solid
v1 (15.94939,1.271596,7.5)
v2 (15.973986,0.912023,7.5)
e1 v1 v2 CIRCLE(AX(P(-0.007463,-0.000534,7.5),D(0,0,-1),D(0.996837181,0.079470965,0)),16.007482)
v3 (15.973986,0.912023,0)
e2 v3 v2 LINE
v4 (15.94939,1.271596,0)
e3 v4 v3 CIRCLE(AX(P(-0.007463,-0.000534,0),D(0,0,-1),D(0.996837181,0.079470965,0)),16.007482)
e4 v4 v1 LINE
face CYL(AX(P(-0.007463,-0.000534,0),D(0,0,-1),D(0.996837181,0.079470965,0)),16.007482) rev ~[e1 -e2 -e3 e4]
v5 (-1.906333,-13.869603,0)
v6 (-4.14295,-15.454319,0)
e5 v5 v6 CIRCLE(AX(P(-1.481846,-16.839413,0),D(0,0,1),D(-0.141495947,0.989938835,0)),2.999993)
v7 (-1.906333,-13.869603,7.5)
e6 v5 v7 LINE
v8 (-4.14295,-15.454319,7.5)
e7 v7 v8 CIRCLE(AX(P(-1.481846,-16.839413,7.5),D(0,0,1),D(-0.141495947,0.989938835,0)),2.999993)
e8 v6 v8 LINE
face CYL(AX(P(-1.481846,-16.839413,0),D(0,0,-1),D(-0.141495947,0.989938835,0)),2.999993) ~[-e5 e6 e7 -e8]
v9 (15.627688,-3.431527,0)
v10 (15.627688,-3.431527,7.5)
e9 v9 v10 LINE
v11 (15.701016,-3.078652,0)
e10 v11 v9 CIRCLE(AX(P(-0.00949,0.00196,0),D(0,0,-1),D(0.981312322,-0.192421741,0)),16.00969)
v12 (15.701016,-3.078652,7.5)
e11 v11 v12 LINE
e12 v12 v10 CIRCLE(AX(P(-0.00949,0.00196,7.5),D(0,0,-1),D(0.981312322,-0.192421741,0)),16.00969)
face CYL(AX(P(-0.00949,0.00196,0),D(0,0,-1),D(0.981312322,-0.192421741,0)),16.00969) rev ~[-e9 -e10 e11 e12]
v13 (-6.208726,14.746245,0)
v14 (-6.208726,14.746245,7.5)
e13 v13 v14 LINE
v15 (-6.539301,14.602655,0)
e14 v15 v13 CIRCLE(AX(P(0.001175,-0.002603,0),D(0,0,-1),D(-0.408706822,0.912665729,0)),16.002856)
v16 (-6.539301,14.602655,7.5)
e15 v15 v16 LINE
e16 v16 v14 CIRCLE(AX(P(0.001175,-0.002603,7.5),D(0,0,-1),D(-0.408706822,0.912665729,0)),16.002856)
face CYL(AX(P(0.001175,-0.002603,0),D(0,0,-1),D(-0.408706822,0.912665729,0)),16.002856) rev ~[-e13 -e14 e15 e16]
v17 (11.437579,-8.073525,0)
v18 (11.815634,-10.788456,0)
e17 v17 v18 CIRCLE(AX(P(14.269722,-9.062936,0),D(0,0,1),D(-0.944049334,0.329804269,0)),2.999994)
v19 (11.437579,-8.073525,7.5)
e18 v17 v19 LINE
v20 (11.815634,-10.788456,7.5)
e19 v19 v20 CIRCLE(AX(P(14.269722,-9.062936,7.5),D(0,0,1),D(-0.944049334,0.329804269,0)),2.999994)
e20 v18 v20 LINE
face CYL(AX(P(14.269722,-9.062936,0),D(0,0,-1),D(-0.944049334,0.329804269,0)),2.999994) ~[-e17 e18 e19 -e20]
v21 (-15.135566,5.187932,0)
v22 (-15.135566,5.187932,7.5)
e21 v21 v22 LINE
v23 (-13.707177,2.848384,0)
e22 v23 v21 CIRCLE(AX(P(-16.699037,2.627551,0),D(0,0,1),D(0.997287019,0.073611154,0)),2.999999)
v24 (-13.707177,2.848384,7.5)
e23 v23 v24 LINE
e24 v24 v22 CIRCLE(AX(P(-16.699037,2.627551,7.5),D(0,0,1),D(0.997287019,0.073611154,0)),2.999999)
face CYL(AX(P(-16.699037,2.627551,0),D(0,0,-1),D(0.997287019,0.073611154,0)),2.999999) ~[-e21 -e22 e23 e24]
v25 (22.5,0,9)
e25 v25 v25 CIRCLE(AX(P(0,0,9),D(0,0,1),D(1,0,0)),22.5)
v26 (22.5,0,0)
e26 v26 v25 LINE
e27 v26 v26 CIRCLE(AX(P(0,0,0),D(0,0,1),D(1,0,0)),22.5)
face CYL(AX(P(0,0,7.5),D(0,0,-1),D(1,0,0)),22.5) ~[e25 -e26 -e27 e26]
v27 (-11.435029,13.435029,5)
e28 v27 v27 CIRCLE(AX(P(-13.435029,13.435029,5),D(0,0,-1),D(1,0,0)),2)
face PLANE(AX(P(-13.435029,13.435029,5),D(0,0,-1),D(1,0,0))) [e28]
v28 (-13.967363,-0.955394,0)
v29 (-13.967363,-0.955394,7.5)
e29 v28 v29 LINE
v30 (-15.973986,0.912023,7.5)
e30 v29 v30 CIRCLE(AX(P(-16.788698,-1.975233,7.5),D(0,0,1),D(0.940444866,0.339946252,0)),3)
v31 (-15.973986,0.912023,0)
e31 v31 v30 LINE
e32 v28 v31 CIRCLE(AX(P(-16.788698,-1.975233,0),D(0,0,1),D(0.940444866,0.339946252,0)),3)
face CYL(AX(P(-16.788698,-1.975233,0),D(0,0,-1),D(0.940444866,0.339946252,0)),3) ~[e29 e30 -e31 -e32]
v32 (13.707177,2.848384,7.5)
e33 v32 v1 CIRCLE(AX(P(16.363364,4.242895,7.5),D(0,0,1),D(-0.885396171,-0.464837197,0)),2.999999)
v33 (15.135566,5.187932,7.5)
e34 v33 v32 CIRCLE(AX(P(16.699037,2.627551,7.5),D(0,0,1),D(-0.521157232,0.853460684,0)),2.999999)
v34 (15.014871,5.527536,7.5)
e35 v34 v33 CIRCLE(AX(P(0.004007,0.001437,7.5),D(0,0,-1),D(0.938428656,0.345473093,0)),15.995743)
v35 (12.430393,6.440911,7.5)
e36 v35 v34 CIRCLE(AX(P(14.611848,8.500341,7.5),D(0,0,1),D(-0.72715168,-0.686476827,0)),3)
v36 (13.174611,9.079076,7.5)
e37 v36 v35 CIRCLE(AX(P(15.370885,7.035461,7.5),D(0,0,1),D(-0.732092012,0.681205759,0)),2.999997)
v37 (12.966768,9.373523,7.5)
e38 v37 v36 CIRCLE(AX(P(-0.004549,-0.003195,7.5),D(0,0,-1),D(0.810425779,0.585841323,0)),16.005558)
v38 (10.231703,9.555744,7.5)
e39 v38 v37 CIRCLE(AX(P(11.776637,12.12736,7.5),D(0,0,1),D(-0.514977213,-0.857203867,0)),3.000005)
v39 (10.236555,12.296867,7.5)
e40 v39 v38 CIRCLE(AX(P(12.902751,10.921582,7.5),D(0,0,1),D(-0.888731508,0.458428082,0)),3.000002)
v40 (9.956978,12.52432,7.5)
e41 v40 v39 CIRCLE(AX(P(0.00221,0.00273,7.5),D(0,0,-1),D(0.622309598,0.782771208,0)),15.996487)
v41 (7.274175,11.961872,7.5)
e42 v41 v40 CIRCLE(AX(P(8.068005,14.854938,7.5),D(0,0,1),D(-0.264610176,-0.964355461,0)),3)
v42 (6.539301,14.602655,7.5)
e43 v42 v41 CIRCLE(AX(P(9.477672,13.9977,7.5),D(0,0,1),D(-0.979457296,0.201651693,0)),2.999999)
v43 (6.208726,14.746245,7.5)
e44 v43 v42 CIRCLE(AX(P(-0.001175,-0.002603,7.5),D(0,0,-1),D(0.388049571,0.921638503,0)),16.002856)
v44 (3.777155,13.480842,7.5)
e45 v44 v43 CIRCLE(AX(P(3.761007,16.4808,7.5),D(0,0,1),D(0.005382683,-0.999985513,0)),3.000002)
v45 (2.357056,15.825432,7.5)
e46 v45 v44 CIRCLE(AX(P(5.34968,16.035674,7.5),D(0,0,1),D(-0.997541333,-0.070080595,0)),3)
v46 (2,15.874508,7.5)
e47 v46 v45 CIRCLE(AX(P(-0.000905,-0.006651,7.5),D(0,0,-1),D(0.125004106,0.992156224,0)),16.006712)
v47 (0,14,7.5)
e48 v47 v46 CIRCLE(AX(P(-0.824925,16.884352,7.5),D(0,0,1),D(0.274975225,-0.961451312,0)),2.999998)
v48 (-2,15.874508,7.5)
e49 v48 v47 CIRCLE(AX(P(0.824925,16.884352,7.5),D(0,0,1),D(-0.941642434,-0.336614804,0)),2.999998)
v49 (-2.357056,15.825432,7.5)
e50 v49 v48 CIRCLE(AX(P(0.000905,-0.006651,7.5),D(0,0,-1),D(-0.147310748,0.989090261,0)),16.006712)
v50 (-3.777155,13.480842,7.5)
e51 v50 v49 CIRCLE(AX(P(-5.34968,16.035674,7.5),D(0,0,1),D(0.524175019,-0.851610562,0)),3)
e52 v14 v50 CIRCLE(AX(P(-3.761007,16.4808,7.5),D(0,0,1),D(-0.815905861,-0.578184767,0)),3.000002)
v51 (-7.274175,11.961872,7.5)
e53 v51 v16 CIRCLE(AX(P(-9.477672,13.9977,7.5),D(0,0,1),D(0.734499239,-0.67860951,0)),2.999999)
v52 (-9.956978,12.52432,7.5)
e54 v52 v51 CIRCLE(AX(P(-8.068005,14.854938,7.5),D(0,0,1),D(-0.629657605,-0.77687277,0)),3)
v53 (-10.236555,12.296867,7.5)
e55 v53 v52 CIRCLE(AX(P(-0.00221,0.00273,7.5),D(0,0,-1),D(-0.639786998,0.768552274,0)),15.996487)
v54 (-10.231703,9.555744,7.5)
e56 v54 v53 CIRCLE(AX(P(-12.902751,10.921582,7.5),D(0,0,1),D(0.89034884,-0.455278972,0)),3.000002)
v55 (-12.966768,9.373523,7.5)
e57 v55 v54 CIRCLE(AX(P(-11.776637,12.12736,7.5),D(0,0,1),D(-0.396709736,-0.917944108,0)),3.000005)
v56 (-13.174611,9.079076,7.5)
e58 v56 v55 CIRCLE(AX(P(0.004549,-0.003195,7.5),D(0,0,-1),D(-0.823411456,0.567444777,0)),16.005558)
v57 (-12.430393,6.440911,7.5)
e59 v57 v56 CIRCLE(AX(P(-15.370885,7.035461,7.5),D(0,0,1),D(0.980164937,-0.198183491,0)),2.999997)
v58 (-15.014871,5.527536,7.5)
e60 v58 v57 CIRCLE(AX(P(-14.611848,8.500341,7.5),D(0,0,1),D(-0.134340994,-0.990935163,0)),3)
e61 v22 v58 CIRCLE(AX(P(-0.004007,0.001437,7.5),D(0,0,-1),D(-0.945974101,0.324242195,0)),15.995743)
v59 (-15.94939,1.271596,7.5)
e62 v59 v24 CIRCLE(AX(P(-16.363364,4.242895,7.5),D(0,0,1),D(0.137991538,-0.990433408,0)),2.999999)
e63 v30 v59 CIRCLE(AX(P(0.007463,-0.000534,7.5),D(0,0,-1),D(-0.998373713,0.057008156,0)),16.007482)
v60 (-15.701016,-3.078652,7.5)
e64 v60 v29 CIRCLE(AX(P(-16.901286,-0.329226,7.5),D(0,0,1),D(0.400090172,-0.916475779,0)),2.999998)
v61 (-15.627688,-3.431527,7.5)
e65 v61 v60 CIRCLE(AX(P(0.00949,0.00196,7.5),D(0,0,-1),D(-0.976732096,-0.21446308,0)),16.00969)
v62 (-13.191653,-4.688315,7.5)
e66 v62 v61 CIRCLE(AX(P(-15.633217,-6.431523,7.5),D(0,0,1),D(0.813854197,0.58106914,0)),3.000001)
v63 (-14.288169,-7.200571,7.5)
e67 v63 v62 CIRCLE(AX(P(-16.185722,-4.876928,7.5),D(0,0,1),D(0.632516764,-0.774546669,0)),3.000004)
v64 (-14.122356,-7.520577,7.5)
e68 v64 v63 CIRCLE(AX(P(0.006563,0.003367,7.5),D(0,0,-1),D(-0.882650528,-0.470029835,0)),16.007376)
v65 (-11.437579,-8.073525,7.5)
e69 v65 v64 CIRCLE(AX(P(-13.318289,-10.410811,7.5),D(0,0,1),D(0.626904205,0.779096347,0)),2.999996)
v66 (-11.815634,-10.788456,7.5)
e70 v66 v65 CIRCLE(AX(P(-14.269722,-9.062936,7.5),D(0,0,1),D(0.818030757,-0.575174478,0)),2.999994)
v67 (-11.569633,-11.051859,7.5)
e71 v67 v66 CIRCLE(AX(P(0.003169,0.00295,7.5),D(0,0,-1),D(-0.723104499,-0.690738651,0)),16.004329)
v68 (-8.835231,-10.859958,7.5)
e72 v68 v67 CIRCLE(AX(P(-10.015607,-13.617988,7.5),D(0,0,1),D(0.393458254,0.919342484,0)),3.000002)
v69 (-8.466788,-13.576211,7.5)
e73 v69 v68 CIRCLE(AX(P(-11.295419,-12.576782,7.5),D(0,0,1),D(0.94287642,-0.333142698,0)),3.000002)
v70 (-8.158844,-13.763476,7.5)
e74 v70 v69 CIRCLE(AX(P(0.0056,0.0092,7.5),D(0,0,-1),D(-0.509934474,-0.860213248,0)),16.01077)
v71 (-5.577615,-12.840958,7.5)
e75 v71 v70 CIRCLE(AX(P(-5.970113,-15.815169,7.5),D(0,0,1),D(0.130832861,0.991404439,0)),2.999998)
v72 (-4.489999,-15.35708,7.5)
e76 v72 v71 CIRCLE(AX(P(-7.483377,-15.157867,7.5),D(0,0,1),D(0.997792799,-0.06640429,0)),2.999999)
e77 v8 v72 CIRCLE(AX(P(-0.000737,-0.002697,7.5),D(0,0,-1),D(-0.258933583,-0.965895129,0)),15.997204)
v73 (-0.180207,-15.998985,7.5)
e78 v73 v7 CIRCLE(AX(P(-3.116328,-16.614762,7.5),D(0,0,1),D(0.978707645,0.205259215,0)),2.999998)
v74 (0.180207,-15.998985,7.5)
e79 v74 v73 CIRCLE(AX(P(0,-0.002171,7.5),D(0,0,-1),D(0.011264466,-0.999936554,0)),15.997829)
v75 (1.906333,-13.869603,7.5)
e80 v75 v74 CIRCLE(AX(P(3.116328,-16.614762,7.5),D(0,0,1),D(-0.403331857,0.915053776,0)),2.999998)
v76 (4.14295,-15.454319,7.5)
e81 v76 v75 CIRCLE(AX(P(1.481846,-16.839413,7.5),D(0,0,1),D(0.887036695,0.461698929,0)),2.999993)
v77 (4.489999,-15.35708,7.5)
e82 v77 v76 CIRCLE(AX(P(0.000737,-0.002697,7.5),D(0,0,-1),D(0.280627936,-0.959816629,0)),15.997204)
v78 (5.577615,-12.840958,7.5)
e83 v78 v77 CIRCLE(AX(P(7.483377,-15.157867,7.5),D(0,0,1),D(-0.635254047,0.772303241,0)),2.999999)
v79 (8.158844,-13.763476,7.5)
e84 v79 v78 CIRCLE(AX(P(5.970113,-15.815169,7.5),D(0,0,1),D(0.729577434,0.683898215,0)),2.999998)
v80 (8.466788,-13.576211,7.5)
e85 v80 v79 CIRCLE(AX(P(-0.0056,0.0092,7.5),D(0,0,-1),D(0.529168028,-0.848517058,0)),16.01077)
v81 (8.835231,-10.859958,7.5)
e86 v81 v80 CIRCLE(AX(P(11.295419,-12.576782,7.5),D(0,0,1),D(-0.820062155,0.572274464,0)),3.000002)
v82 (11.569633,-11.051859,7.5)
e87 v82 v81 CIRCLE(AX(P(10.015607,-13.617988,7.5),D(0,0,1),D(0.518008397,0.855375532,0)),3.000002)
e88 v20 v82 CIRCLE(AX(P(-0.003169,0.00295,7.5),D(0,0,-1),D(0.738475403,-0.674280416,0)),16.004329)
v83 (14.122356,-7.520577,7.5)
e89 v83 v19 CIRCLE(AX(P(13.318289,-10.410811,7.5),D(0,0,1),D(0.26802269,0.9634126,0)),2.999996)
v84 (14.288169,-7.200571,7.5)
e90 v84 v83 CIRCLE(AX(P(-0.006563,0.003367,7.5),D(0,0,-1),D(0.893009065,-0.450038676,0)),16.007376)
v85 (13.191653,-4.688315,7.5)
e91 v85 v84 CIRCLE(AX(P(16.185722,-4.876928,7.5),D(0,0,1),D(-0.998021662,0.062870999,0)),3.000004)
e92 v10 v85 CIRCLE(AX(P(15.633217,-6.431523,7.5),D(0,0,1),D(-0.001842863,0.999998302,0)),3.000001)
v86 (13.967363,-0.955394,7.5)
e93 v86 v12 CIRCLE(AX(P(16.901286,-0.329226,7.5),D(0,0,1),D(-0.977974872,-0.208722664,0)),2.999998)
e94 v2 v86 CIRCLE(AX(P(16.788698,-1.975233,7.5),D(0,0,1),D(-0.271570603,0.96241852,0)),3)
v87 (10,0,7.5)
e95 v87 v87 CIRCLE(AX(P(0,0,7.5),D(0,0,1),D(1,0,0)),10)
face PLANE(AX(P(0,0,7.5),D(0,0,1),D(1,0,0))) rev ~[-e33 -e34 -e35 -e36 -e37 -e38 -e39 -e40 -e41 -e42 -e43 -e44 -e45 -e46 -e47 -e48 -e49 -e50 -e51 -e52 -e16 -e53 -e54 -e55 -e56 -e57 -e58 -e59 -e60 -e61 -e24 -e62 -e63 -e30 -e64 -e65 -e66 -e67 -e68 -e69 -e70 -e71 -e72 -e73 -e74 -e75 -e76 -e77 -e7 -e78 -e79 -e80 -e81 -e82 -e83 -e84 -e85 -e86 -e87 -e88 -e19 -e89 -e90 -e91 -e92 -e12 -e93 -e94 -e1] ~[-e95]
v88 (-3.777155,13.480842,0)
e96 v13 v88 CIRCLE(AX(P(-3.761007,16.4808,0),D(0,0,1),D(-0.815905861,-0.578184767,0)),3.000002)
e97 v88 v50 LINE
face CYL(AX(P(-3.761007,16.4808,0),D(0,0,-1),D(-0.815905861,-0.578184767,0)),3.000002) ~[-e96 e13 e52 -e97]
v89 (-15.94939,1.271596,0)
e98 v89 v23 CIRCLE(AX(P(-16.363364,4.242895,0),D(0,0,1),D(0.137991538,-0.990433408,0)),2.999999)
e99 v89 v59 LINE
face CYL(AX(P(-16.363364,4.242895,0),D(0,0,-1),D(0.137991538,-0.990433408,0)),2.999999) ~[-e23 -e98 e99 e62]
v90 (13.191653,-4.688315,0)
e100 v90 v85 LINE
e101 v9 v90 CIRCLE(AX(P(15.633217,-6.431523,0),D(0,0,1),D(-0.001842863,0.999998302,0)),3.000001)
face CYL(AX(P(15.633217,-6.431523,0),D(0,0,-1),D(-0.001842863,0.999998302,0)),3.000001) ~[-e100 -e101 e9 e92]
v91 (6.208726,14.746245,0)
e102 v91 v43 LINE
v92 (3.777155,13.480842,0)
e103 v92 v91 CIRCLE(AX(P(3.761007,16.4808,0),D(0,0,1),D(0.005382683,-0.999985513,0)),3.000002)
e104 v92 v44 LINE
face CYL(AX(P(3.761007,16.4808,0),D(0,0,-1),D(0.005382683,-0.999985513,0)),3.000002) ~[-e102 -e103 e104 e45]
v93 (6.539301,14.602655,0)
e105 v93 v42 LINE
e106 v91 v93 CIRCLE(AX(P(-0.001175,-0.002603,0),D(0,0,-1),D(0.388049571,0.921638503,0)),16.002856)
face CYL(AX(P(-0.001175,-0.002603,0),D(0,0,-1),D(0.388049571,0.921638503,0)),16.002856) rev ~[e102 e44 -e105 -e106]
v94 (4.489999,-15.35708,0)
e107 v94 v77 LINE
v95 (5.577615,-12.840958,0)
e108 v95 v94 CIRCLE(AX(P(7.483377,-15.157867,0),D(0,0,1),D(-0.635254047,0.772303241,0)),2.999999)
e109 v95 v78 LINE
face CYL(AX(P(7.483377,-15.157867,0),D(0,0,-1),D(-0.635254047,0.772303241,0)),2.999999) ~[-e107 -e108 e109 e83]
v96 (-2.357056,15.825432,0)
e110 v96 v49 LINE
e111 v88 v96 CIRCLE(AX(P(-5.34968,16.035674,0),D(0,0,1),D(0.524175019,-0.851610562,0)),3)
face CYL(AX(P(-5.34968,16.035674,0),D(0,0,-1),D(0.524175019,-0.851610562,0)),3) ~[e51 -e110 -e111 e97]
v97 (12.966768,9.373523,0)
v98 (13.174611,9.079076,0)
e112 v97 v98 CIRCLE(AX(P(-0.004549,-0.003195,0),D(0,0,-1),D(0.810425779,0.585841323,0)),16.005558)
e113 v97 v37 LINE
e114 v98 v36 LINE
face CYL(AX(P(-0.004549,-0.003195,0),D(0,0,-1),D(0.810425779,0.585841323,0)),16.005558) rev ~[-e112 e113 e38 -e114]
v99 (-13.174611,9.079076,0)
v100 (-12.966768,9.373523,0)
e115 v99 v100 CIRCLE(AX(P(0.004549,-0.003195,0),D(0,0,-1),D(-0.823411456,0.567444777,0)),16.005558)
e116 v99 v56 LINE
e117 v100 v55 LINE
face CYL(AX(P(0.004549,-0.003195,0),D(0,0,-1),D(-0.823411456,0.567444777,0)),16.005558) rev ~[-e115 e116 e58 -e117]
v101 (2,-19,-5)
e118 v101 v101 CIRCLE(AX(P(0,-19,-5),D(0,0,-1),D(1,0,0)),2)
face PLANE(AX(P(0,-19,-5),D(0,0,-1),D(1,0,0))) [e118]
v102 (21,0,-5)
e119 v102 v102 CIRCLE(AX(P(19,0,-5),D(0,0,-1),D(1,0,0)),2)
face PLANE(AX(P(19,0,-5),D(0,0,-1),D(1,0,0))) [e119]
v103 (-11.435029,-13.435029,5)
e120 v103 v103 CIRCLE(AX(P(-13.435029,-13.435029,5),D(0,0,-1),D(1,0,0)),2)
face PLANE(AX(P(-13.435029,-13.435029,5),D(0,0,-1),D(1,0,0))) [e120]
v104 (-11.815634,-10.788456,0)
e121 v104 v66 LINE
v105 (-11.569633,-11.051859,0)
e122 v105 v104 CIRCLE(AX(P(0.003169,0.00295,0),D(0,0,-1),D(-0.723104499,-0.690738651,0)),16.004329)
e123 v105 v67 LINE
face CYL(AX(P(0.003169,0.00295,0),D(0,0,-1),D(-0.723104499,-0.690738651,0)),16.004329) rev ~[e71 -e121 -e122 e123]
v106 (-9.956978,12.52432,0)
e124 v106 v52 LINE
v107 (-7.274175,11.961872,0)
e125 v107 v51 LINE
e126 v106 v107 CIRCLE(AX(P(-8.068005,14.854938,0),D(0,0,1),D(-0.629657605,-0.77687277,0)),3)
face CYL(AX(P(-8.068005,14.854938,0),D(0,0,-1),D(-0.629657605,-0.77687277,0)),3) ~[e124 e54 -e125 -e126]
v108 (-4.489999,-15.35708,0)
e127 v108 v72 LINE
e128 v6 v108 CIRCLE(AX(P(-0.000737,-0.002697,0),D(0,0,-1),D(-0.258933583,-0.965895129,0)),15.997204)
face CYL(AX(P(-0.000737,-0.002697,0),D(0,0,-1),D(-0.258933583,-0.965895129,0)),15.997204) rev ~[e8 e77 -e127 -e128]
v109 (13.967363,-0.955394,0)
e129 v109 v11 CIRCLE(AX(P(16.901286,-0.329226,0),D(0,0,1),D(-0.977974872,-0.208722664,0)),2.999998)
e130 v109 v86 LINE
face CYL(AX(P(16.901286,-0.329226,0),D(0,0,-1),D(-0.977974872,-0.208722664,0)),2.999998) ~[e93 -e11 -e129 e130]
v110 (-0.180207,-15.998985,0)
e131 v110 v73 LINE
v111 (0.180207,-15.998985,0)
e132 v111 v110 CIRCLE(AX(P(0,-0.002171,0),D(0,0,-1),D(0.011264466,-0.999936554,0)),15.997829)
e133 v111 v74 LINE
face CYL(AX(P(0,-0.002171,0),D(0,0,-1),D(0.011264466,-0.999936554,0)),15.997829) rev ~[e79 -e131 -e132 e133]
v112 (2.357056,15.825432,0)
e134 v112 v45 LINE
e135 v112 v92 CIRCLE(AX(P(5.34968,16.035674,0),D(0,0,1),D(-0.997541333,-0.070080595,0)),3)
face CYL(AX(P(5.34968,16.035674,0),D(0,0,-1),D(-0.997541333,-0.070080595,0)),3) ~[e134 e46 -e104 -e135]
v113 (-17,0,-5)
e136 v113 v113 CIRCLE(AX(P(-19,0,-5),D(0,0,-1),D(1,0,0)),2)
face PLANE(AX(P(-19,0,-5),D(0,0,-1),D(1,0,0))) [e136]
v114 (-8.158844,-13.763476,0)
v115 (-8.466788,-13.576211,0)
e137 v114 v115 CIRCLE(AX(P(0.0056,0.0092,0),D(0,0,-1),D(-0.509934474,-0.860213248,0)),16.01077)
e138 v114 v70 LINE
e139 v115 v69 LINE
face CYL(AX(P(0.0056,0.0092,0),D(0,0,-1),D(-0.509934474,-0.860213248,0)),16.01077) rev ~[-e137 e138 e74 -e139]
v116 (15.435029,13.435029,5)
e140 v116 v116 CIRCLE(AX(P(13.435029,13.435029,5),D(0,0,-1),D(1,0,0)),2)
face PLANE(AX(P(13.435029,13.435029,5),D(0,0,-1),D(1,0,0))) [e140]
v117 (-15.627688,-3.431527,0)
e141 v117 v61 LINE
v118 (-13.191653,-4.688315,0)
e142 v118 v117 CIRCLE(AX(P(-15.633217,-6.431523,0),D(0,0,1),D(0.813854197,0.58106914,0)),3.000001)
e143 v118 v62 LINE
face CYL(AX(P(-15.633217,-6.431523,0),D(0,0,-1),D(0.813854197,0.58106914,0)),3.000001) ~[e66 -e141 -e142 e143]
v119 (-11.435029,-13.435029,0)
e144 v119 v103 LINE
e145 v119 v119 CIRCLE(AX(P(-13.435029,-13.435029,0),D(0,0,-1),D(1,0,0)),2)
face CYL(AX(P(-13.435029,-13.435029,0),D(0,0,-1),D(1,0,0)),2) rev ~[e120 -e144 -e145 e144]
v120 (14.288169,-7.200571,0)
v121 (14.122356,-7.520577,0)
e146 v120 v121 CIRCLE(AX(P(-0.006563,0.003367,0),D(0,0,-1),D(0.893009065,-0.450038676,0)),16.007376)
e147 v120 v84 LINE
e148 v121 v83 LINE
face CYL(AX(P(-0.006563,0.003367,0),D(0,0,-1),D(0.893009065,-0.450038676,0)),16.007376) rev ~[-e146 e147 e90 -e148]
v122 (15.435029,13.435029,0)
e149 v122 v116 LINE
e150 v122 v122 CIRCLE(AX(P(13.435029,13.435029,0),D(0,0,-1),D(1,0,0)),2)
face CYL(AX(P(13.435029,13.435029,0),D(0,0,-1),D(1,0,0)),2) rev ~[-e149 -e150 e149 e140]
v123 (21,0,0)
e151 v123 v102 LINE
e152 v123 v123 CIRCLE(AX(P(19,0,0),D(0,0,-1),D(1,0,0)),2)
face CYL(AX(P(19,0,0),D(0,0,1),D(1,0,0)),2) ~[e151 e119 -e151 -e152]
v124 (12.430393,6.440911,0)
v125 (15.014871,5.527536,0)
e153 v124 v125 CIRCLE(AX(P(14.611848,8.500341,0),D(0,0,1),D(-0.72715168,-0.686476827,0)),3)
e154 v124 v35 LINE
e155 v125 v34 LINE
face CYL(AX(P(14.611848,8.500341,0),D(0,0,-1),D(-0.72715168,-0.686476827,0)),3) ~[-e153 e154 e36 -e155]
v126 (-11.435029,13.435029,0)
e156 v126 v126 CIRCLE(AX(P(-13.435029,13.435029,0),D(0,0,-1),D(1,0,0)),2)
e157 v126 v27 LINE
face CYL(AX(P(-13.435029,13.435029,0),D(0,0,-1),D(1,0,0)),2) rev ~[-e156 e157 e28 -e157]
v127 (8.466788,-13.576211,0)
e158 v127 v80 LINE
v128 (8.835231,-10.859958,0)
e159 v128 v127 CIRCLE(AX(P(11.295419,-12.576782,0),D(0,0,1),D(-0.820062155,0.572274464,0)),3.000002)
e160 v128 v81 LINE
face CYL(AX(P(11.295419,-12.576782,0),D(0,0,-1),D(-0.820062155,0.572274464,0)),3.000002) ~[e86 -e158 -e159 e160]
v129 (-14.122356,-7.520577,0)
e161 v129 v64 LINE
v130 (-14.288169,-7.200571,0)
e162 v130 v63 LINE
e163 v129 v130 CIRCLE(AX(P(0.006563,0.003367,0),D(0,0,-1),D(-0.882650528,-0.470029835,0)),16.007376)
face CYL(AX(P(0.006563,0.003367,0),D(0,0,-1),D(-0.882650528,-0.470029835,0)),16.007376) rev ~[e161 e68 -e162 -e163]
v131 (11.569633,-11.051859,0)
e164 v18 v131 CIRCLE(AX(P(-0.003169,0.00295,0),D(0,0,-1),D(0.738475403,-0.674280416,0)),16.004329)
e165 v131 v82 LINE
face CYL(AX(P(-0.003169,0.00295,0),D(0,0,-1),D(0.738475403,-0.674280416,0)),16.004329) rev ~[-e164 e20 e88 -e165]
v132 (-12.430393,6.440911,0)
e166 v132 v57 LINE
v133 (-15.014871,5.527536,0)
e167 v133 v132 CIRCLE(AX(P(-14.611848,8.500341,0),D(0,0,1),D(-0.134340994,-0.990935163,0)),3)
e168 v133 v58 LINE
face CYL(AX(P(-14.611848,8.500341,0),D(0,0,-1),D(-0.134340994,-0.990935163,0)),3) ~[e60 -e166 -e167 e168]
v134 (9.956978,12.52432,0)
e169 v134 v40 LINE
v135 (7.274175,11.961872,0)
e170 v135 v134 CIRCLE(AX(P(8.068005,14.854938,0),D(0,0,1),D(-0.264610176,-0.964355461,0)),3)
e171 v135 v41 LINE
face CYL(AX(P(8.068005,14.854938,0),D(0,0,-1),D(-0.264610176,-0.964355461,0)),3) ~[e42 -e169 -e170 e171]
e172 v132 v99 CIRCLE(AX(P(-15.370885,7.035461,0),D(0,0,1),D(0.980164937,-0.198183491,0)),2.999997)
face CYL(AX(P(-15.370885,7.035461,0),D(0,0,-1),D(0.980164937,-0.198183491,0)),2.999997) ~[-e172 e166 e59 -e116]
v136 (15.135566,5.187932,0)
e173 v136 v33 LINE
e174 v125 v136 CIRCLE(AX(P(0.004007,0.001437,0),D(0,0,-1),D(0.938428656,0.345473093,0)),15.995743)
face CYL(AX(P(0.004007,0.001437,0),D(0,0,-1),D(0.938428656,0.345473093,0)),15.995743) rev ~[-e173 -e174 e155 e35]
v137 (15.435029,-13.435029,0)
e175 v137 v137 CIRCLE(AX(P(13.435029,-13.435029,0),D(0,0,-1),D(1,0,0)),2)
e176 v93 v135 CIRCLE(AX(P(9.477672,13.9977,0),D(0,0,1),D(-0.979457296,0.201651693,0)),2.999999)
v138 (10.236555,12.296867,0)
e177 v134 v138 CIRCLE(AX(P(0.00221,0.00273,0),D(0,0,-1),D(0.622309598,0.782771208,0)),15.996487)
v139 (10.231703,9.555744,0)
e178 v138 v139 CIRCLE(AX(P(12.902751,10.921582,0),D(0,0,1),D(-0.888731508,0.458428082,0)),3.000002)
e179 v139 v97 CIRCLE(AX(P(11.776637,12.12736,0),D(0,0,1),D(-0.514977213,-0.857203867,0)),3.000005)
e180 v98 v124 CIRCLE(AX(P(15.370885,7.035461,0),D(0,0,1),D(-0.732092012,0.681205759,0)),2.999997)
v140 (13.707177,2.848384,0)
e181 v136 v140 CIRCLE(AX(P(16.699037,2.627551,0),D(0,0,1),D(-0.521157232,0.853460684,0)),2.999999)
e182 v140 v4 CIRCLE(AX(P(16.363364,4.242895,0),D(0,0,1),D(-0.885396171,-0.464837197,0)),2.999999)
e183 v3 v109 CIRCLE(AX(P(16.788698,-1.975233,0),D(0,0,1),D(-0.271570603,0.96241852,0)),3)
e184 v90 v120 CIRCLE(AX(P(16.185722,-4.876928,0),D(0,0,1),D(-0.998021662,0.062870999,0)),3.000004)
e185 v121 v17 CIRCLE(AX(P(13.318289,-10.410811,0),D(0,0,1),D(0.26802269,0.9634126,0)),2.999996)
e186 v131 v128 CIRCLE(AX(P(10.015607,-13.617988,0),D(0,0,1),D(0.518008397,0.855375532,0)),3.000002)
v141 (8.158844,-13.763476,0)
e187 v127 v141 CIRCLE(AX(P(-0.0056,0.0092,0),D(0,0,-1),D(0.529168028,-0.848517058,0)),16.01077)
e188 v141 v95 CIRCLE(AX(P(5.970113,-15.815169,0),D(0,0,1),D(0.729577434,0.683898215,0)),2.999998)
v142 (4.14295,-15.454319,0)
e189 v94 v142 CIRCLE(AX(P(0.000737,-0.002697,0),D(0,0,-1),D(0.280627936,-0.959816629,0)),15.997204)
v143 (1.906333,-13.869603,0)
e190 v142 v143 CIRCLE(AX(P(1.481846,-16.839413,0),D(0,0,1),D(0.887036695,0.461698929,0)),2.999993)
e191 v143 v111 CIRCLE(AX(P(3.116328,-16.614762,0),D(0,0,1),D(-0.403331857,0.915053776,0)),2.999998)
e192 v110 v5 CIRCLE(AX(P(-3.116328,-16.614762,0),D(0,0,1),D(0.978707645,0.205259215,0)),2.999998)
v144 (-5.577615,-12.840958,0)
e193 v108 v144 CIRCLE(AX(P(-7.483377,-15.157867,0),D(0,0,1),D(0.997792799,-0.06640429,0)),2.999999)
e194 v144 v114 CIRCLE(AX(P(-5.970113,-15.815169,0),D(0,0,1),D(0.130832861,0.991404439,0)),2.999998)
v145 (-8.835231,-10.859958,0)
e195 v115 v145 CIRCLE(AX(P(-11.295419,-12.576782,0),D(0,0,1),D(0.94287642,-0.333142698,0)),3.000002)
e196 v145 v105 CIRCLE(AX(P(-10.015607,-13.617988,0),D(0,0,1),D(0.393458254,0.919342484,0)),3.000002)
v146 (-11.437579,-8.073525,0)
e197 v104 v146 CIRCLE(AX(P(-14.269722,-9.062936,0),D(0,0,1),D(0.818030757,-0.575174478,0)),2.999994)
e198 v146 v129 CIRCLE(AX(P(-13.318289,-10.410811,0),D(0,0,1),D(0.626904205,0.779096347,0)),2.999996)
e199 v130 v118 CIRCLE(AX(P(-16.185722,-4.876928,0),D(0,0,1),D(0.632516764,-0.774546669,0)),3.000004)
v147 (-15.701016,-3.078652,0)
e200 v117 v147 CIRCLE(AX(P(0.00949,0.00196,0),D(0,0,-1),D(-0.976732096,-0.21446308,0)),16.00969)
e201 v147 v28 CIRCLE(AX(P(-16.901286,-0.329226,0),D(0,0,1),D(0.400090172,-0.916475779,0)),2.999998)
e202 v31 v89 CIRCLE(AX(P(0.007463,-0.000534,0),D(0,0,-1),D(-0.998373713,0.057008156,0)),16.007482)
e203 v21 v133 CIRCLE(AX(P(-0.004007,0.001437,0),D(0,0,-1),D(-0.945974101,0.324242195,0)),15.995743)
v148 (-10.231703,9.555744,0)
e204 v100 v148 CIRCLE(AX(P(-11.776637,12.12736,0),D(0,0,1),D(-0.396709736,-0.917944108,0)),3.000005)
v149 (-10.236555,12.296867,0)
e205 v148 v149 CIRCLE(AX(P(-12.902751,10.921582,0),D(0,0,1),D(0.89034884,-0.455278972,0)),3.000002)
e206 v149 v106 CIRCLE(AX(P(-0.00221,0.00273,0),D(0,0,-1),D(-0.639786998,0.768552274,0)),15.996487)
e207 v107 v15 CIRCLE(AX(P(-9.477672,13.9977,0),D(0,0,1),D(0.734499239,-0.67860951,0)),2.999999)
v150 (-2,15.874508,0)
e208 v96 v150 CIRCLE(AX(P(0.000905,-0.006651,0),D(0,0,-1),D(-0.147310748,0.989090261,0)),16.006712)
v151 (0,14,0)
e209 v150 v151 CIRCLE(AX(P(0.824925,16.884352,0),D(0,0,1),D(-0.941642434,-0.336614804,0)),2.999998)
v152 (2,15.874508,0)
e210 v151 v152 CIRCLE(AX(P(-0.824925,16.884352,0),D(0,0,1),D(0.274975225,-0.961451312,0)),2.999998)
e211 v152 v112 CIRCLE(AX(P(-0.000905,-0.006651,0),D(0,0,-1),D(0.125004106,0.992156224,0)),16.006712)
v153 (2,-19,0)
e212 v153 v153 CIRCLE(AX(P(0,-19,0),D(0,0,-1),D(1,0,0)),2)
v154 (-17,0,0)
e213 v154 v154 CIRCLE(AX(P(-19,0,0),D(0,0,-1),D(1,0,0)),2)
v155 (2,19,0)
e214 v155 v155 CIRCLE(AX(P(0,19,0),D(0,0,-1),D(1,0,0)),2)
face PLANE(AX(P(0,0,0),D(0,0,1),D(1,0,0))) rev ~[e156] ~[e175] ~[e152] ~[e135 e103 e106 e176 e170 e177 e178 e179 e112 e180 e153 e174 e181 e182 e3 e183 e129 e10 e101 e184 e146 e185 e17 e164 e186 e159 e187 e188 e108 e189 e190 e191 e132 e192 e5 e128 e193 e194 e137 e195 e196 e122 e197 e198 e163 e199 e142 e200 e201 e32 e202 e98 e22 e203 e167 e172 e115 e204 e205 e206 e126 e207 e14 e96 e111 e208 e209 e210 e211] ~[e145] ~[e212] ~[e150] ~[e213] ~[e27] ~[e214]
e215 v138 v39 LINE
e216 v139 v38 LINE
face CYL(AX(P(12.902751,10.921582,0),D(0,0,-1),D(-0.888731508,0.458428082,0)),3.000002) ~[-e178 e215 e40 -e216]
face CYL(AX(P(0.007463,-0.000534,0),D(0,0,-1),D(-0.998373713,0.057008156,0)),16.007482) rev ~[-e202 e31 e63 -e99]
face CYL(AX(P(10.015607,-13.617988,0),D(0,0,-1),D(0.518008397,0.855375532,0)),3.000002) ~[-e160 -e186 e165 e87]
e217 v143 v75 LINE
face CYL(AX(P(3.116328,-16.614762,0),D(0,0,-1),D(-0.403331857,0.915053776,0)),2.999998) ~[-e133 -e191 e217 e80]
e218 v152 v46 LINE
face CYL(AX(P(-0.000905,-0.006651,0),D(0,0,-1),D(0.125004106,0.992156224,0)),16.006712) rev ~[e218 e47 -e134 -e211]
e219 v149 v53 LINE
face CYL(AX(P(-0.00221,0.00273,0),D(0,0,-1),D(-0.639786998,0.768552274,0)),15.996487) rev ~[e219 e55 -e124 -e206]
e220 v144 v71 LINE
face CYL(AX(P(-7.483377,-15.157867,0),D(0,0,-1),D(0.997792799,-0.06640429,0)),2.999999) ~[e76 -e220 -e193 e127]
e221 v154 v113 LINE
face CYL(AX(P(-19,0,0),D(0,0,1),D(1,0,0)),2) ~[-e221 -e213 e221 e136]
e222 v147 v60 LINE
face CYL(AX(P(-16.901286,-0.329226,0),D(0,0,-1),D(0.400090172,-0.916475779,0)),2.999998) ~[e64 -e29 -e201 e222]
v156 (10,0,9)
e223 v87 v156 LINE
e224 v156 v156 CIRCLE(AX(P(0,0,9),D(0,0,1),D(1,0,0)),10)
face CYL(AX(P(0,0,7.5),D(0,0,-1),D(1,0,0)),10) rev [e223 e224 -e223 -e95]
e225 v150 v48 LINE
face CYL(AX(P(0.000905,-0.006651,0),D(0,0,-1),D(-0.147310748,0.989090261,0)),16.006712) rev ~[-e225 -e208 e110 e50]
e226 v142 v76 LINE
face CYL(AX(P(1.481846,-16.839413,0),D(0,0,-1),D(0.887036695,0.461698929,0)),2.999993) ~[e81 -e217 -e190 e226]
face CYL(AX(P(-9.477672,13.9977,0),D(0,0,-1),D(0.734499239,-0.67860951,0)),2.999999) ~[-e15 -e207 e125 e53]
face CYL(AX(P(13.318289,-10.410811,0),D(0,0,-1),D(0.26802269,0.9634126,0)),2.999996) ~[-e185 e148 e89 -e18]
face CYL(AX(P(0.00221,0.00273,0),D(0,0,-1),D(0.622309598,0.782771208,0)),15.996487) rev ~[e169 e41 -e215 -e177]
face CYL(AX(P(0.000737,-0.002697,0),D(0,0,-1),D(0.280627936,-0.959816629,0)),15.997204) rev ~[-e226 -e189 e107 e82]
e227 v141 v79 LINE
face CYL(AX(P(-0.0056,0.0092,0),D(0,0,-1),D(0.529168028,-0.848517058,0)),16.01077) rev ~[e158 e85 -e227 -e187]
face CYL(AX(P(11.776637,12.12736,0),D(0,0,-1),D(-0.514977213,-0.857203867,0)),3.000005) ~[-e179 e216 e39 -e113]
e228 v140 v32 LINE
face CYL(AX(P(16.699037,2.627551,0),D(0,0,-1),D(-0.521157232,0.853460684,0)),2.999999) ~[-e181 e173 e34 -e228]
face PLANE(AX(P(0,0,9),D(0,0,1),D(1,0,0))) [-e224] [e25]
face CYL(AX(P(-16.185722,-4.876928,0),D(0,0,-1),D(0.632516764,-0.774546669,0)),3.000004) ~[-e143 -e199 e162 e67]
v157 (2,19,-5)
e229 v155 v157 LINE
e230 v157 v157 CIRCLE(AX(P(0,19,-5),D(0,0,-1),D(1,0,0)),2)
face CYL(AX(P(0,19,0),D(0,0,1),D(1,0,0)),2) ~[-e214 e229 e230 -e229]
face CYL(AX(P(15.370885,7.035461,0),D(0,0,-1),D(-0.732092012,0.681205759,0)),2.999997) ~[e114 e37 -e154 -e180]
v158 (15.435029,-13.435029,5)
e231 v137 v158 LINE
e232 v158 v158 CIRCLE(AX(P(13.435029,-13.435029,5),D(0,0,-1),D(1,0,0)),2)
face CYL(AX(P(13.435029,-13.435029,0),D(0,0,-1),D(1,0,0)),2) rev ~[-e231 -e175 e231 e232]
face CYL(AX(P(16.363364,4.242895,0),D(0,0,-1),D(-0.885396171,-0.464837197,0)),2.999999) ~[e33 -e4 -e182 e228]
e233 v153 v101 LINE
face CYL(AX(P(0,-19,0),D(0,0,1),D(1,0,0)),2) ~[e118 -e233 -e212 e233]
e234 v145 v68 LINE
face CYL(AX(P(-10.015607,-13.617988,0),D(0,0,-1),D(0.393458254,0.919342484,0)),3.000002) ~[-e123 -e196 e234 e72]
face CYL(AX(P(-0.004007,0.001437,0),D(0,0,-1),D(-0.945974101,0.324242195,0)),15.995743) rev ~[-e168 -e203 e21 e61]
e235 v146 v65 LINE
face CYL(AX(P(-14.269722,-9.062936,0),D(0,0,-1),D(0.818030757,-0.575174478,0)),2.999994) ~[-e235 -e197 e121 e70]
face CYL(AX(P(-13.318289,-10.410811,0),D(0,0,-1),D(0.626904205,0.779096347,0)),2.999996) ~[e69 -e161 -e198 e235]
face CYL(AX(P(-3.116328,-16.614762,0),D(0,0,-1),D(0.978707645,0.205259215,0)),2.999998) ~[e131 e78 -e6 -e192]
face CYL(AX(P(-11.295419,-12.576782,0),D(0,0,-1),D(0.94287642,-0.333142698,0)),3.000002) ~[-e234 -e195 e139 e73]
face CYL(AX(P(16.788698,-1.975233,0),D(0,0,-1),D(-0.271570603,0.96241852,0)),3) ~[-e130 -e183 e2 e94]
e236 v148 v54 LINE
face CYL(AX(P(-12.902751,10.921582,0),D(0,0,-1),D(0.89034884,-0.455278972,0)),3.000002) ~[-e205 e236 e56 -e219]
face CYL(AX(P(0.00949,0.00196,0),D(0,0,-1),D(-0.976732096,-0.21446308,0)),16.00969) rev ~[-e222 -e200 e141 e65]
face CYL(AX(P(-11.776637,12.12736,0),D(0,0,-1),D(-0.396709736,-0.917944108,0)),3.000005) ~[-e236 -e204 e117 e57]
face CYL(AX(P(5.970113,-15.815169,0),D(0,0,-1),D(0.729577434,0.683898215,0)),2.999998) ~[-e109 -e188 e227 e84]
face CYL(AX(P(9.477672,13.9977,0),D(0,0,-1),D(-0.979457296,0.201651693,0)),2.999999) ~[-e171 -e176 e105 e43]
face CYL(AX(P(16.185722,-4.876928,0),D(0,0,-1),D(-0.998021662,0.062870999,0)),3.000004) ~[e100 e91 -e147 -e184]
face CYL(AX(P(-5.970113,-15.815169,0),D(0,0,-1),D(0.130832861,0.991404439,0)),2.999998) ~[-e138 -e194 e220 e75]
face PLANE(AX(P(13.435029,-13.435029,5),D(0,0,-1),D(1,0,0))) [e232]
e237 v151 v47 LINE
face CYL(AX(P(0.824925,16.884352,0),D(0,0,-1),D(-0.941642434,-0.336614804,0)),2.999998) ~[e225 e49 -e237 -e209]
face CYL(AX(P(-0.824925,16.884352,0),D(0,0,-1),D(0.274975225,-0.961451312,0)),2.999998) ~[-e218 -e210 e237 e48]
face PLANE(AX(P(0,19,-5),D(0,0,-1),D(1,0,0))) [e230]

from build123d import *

# Parameters (mm, degrees)
F0_R     = 22.5
F1_DEPTH = 7.5
F2_R     = 2
F3_DEPTH = 5
F4_DEPTH = 5
F5_R     = 22.5
F5_R_2   = 10
F6_DEPTH = 1.5


with BuildPart() as f1:
    # F0 (on Top) → F1 (new body)
    with BuildSketch(Plane.XY):
        Circle(F0_R)
        with BuildLine():
            ThreePointArc((15.973986, 0.912023), (15.993495, 0.456197), (16, 0))
            ThreePointArc((16, 0), (15.925079, -1.546568), (15.701016, -3.078652))
            ThreePointArc((15.701016, -3.078652), (15.665345, -3.255296), (15.627688, -3.431527))
            ThreePointArc((15.627688, -3.431527), (15.076175, -5.358074), (14.288169, -7.200571))
            ThreePointArc((14.288169, -7.200571), (14.206163, -7.361041), (14.122356, -7.520577))
            ThreePointArc((14.122356, -7.520577), (13.071518, -9.226885), (11.815634, -10.788456))
            ThreePointArc((11.815634, -10.788456), (11.693375, -10.92085), (11.569633, -11.051859))
            ThreePointArc((11.569633, -11.051859), (10.097407, -12.411381), (8.466788, -13.576211))
            ThreePointArc((8.466788, -13.576211), (8.313343, -13.67071), (8.158844, -13.763476))
            ThreePointArc((8.158844, -13.763476), (6.374417, -14.675381), (4.489999, -15.35708))
            ThreePointArc((4.489999, -15.35708), (4.316748, -15.406677), (4.14295, -15.454319))
            ThreePointArc((4.14295, -15.454319), (2.178666, -15.850975), (0.180207, -15.998985))
            ThreePointArc((0.180207, -15.998985), (0, -16), (-0.180207, -15.998985))
            ThreePointArc((-0.180207, -15.998985), (-2.178666, -15.850975), (-4.14295, -15.454319))
            ThreePointArc((-4.14295, -15.454319), (-4.316748, -15.406677), (-4.489999, -15.35708))
            ThreePointArc((-4.489999, -15.35708), (-6.374417, -14.675381), (-8.158844, -13.763476))
            ThreePointArc((-8.158844, -13.763476), (-8.313343, -13.67071), (-8.466788, -13.576211))
            ThreePointArc((-8.466788, -13.576211), (-10.097407, -12.411381), (-11.569633, -11.051859))
            ThreePointArc((-11.569633, -11.051859), (-11.693375, -10.92085), (-11.815634, -10.788456))
            ThreePointArc((-11.815634, -10.788456), (-13.071518, -9.226885), (-14.122356, -7.520577))
            ThreePointArc((-14.122356, -7.520577), (-14.206163, -7.361041), (-14.288169, -7.200571))
            ThreePointArc((-14.288169, -7.200571), (-15.076175, -5.358074), (-15.627688, -3.431527))
            ThreePointArc((-15.627688, -3.431527), (-15.665345, -3.255296), (-15.701016, -3.078652))
            ThreePointArc((-15.701016, -3.078652), (-15.9627, -1.091879), (-15.973986, 0.912023))
            ThreePointArc((-15.973986, 0.912023), (-15.9627, 1.091879), (-15.94939, 1.271596))
            ThreePointArc((-15.94939, 1.271596), (-15.665345, 3.255296), (-15.135566, 5.187932))
            ThreePointArc((-15.135566, 5.187932), (-15.076175, 5.358074), (-15.014871, 5.527536))
            ThreePointArc((-15.014871, 5.527536), (-14.206163, 7.361041), (-13.174611, 9.079076))
            ThreePointArc((-13.174611, 9.079076), (-13.071518, 9.226885), (-12.966768, 9.373523))
            ThreePointArc((-12.966768, 9.373523), (-11.693375, 10.92085), (-10.236555, 12.296867))
            ThreePointArc((-10.236555, 12.296867), (-10.097407, 12.411381), (-9.956978, 12.52432))
            ThreePointArc((-9.956978, 12.52432), (-8.313343, 13.67071), (-6.539301, 14.602655))
            ThreePointArc((-6.539301, 14.602655), (-6.374417, 14.675381), (-6.208726, 14.746245))
            ThreePointArc((-6.208726, 14.746245), (-4.316748, 15.406677), (-2.357056, 15.825432))
            ThreePointArc((-2.357056, 15.825432), (-2.178666, 15.850975), (-2, 15.874508))
            ThreePointArc((-2, 15.874508), (0, 16), (2, 15.874508))
            ThreePointArc((2, 15.874508), (2.178666, 15.850975), (2.357056, 15.825432))
            ThreePointArc((2.357056, 15.825432), (4.316748, 15.406677), (6.208726, 14.746245))
            ThreePointArc((6.208726, 14.746245), (6.374417, 14.675381), (6.539301, 14.602655))
            ThreePointArc((6.539301, 14.602655), (8.313343, 13.67071), (9.956978, 12.52432))
            ThreePointArc((9.956978, 12.52432), (10.097407, 12.411381), (10.236555, 12.296867))
            ThreePointArc((10.236555, 12.296867), (11.693375, 10.92085), (12.966768, 9.373523))
            ThreePointArc((12.966768, 9.373523), (13.071518, 9.226885), (13.174611, 9.079076))
            ThreePointArc((13.174611, 9.079076), (14.206163, 7.361041), (15.014871, 5.527536))
            ThreePointArc((15.014871, 5.527536), (15.076175, 5.358074), (15.135566, 5.187932))
            ThreePointArc((15.135566, 5.187932), (15.665345, 3.255296), (15.94939, 1.271596))
            ThreePointArc((15.94939, 1.271596), (15.9627, 1.091879), (15.973986, 0.912023))
        make_face(mode=Mode.SUBTRACT)
        with BuildLine():
            ThreePointArc((0, 14), (1.22661, 14.695473), (2, 15.874508))
            ThreePointArc((2, 15.874508), (0, 16), (-2, 15.874508))
            ThreePointArc((-2, 15.874508), (-1.22661, 14.695473), (0, 14))
        make_face()
        with BuildLine():
            ThreePointArc((-3.777155, 13.480842), (-2.783667, 14.481461), (-2.357056, 15.825432))
            ThreePointArc((-2.357056, 15.825432), (-4.316748, 15.406677), (-6.208726, 14.746245))
            ThreePointArc((-6.208726, 14.746245), (-5.145915, 13.81959), (-3.777155, 13.480842))
        make_face()
        with BuildLine():
            ThreePointArc((-7.274175, 11.961872), (-6.587493, 13.193424), (-6.539301, 14.602655))
            ThreePointArc((-6.539301, 14.602655), (-8.313343, 13.67071), (-9.956978, 12.52432))
            ThreePointArc((-9.956978, 12.52432), (-8.683571, 11.918771), (-7.274175, 11.961872))
        make_face()
        with BuildLine():
            ThreePointArc((-10.231703, 9.555744), (-9.902754, 10.926892), (-10.236555, 12.296867))
            ThreePointArc((-10.236555, 12.296867), (-11.693375, 10.92085), (-12.966768, 9.373523))
            ThreePointArc((-12.966768, 9.373523), (-11.577207, 9.133991), (-10.231703, 9.555744))
        make_face()
        with BuildLine():
            ThreePointArc((-12.430393, 6.440911), (-12.483573, 7.849962), (-13.174611, 9.079076))
            ThreePointArc((-13.174611, 9.079076), (-14.206163, 7.361041), (-15.014871, 5.527536))
            ThreePointArc((-15.014871, 5.527536), (-13.612214, 5.671785), (-12.430393, 6.440911))
        make_face()
        with BuildLine():
            ThreePointArc((-13.707177, 2.848384), (-14.138543, 4.190837), (-15.135566, 5.187932))
            ThreePointArc((-15.135566, 5.187932), (-15.665345, 3.255296), (-15.94939, 1.271596))
            ThreePointArc((-15.94939, 1.271596), (-14.637665, 1.788928), (-13.707177, 2.848384))
        make_face()
        with BuildLine():
            ThreePointArc((-15.973986, 0.912023), (-15.9627, -1.091879), (-15.701016, -3.078652))
            ThreePointArc((-15.701016, -3.078652), (-14.577508, -2.226605), (-13.967363, -0.955394))
            ThreePointArc((-13.967363, -0.955394), (-14.744922, 0.220896), (-15.973986, 0.912023))
        make_face()
        with BuildLine():
            ThreePointArc((-15.627688, -3.431527), (-15.076175, -5.358074), (-14.288169, -7.200571))
            ThreePointArc((-14.288169, -7.200571), (-13.436204, -6.077001), (-13.191653, -4.688315))
            ThreePointArc((-13.191653, -4.688315), (-14.257737, -3.765428), (-15.627688, -3.431527))
        make_face()
        with BuildLine():
            ThreePointArc((-14.122356, -7.520577), (-13.071518, -9.226885), (-11.815634, -10.788456))
            ThreePointArc((-11.815634, -10.788456), (-11.298397, -9.476694), (-11.437579, -8.073525))
            ThreePointArc((-11.437579, -8.073525), (-12.713121, -7.472487), (-14.122356, -7.520577))
        make_face()
        with BuildLine():
            ThreePointArc((-11.569633, -11.051859), (-10.097407, -12.411381), (-8.466788, -13.576211))
            ThreePointArc((-8.466788, -13.576211), (-8.322641, -12.173543), (-8.835231, -10.859958))
            ThreePointArc((-8.835231, -10.859958), (-10.225631, -10.625346), (-11.569633, -11.051859))
        make_face()
        with BuildLine():
            ThreePointArc((-8.158844, -13.763476), (-6.374417, -14.675381), (-4.489999, -15.35708))
            ThreePointArc((-4.489999, -15.35708), (-4.729632, -13.967537), (-5.577615, -12.840958))
            ThreePointArc((-5.577615, -12.840958), (-6.979753, -12.990171), (-8.158844, -13.763476))
        make_face()
        with BuildLine():
            ThreePointArc((-4.14295, -15.454319), (-2.178666, -15.850975), (-0.180207, -15.998985))
            ThreePointArc((-0.180207, -15.998985), (-0.785848, -14.725622), (-1.906333, -13.869603))
            ThreePointArc((-1.906333, -13.869603), (-3.216219, -14.391575), (-4.14295, -15.454319))
        make_face()
        with BuildLine():
            ThreePointArc((0.180207, -15.998985), (2.178666, -15.850975), (4.14295, -15.454319))
            ThreePointArc((4.14295, -15.454319), (3.216219, -14.391575), (1.906333, -13.869603))
            ThreePointArc((1.906333, -13.869603), (0.785848, -14.725622), (0.180207, -15.998985))
        make_face()
        with BuildLine():
            ThreePointArc((4.489999, -15.35708), (6.374417, -14.675381), (8.158844, -13.763476))
            ThreePointArc((8.158844, -13.763476), (6.979753, -12.990171), (5.577615, -12.840958))
            ThreePointArc((5.577615, -12.840958), (4.729632, -13.967537), (4.489999, -15.35708))
        make_face()
        with BuildLine():
            ThreePointArc((8.466788, -13.576211), (10.097407, -12.411381), (11.569633, -11.051859))
            ThreePointArc((11.569633, -11.051859), (10.225631, -10.625346), (8.835231, -10.859958))
            ThreePointArc((8.835231, -10.859958), (8.322641, -12.173543), (8.466788, -13.576211))
        make_face()
        with BuildLine():
            ThreePointArc((11.815634, -10.788456), (13.071518, -9.226885), (14.122356, -7.520577))
            ThreePointArc((14.122356, -7.520577), (12.713121, -7.472487), (11.437579, -8.073525))
            ThreePointArc((11.437579, -8.073525), (11.298397, -9.476694), (11.815634, -10.788456))
        make_face()
        with BuildLine():
            ThreePointArc((14.288169, -7.200571), (15.076175, -5.358074), (15.627688, -3.431527))
            ThreePointArc((15.627688, -3.431527), (14.257737, -3.765428), (13.191653, -4.688315))
            ThreePointArc((13.191653, -4.688315), (13.436204, -6.077001), (14.288169, -7.200571))
        make_face()
        with BuildLine():
            ThreePointArc((15.701016, -3.078652), (15.925079, -1.546568), (16, 0))
            ThreePointArc((16, 0), (15.993495, 0.456197), (15.973986, 0.912023))
            ThreePointArc((15.973986, 0.912023), (14.744922, 0.220896), (13.967363, -0.955394))
            ThreePointArc((13.967363, -0.955394), (14.577508, -2.226605), (15.701016, -3.078652))
        make_face()
        with BuildLine():
            ThreePointArc((13.707177, 2.848384), (14.637665, 1.788928), (15.94939, 1.271596))
            ThreePointArc((15.94939, 1.271596), (15.665345, 3.255296), (15.135566, 5.187932))
            ThreePointArc((15.135566, 5.187932), (14.138543, 4.190837), (13.707177, 2.848384))
        make_face()
        with BuildLine():
            ThreePointArc((12.430393, 6.440911), (13.612214, 5.671785), (15.014871, 5.527536))
            ThreePointArc((15.014871, 5.527536), (14.206163, 7.361041), (13.174611, 9.079076))
            ThreePointArc((13.174611, 9.079076), (12.483573, 7.849962), (12.430393, 6.440911))
        make_face()
        with BuildLine():
            ThreePointArc((10.231703, 9.555744), (11.577207, 9.133991), (12.966768, 9.373523))
            ThreePointArc((12.966768, 9.373523), (11.693375, 10.92085), (10.236555, 12.296867))
            ThreePointArc((10.236555, 12.296867), (9.902754, 10.926892), (10.231703, 9.555744))
        make_face()
        with BuildLine():
            ThreePointArc((7.274175, 11.961872), (8.683571, 11.918771), (9.956978, 12.52432))
            ThreePointArc((9.956978, 12.52432), (8.313343, 13.67071), (6.539301, 14.602655))
            ThreePointArc((6.539301, 14.602655), (6.587493, 13.193424), (7.274175, 11.961872))
        make_face()
        with BuildLine():
            ThreePointArc((3.777155, 13.480842), (5.145915, 13.81959), (6.208726, 14.746245))
            ThreePointArc((6.208726, 14.746245), (4.316748, 15.406677), (2.357056, 15.825432))
            ThreePointArc((2.357056, 15.825432), (2.783667, 14.481461), (3.777155, 13.480842))
        make_face()
    extrude(amount=F1_DEPTH)

    # F2 (on face) → F3 (join)
    with BuildSketch(Plane(origin=(0, 0, 0), x_dir=(1, 0, 0), z_dir=(0, 0, -1))):
        with Locations((0, 19)):
            Circle(F2_R)
        with Locations((-19, 0)):
            Circle(F2_R)
        with Locations((19, 0)):
            Circle(F2_R)
        with Locations((0, -19)):
            Circle(F2_R)
    extrude(amount=F3_DEPTH)

    # F2 (on face) → F4 (cut)
    with BuildSketch(Plane(origin=(0, 0, 0), x_dir=(1, 0, 0), z_dir=(0, 0, -1))):
        with Locations((-13.435029, 13.435029)):
            Circle(F2_R)
        with Locations((13.435029, 13.435029)):
            Circle(F2_R)
        with Locations((-13.435029, -13.435029)):
            Circle(F2_R)
        with Locations((13.435029, -13.435029)):
            Circle(F2_R)
    extrude(amount=-F4_DEPTH, mode=Mode.SUBTRACT)

    # F5 (on face) → F6 (join)
    with BuildSketch(Plane.XY.offset(7.5)):
        Circle(F5_R)
        Circle(F5_R_2, mode=Mode.SUBTRACT)
    extrude(amount=F6_DEPTH)


solid = f1.part
